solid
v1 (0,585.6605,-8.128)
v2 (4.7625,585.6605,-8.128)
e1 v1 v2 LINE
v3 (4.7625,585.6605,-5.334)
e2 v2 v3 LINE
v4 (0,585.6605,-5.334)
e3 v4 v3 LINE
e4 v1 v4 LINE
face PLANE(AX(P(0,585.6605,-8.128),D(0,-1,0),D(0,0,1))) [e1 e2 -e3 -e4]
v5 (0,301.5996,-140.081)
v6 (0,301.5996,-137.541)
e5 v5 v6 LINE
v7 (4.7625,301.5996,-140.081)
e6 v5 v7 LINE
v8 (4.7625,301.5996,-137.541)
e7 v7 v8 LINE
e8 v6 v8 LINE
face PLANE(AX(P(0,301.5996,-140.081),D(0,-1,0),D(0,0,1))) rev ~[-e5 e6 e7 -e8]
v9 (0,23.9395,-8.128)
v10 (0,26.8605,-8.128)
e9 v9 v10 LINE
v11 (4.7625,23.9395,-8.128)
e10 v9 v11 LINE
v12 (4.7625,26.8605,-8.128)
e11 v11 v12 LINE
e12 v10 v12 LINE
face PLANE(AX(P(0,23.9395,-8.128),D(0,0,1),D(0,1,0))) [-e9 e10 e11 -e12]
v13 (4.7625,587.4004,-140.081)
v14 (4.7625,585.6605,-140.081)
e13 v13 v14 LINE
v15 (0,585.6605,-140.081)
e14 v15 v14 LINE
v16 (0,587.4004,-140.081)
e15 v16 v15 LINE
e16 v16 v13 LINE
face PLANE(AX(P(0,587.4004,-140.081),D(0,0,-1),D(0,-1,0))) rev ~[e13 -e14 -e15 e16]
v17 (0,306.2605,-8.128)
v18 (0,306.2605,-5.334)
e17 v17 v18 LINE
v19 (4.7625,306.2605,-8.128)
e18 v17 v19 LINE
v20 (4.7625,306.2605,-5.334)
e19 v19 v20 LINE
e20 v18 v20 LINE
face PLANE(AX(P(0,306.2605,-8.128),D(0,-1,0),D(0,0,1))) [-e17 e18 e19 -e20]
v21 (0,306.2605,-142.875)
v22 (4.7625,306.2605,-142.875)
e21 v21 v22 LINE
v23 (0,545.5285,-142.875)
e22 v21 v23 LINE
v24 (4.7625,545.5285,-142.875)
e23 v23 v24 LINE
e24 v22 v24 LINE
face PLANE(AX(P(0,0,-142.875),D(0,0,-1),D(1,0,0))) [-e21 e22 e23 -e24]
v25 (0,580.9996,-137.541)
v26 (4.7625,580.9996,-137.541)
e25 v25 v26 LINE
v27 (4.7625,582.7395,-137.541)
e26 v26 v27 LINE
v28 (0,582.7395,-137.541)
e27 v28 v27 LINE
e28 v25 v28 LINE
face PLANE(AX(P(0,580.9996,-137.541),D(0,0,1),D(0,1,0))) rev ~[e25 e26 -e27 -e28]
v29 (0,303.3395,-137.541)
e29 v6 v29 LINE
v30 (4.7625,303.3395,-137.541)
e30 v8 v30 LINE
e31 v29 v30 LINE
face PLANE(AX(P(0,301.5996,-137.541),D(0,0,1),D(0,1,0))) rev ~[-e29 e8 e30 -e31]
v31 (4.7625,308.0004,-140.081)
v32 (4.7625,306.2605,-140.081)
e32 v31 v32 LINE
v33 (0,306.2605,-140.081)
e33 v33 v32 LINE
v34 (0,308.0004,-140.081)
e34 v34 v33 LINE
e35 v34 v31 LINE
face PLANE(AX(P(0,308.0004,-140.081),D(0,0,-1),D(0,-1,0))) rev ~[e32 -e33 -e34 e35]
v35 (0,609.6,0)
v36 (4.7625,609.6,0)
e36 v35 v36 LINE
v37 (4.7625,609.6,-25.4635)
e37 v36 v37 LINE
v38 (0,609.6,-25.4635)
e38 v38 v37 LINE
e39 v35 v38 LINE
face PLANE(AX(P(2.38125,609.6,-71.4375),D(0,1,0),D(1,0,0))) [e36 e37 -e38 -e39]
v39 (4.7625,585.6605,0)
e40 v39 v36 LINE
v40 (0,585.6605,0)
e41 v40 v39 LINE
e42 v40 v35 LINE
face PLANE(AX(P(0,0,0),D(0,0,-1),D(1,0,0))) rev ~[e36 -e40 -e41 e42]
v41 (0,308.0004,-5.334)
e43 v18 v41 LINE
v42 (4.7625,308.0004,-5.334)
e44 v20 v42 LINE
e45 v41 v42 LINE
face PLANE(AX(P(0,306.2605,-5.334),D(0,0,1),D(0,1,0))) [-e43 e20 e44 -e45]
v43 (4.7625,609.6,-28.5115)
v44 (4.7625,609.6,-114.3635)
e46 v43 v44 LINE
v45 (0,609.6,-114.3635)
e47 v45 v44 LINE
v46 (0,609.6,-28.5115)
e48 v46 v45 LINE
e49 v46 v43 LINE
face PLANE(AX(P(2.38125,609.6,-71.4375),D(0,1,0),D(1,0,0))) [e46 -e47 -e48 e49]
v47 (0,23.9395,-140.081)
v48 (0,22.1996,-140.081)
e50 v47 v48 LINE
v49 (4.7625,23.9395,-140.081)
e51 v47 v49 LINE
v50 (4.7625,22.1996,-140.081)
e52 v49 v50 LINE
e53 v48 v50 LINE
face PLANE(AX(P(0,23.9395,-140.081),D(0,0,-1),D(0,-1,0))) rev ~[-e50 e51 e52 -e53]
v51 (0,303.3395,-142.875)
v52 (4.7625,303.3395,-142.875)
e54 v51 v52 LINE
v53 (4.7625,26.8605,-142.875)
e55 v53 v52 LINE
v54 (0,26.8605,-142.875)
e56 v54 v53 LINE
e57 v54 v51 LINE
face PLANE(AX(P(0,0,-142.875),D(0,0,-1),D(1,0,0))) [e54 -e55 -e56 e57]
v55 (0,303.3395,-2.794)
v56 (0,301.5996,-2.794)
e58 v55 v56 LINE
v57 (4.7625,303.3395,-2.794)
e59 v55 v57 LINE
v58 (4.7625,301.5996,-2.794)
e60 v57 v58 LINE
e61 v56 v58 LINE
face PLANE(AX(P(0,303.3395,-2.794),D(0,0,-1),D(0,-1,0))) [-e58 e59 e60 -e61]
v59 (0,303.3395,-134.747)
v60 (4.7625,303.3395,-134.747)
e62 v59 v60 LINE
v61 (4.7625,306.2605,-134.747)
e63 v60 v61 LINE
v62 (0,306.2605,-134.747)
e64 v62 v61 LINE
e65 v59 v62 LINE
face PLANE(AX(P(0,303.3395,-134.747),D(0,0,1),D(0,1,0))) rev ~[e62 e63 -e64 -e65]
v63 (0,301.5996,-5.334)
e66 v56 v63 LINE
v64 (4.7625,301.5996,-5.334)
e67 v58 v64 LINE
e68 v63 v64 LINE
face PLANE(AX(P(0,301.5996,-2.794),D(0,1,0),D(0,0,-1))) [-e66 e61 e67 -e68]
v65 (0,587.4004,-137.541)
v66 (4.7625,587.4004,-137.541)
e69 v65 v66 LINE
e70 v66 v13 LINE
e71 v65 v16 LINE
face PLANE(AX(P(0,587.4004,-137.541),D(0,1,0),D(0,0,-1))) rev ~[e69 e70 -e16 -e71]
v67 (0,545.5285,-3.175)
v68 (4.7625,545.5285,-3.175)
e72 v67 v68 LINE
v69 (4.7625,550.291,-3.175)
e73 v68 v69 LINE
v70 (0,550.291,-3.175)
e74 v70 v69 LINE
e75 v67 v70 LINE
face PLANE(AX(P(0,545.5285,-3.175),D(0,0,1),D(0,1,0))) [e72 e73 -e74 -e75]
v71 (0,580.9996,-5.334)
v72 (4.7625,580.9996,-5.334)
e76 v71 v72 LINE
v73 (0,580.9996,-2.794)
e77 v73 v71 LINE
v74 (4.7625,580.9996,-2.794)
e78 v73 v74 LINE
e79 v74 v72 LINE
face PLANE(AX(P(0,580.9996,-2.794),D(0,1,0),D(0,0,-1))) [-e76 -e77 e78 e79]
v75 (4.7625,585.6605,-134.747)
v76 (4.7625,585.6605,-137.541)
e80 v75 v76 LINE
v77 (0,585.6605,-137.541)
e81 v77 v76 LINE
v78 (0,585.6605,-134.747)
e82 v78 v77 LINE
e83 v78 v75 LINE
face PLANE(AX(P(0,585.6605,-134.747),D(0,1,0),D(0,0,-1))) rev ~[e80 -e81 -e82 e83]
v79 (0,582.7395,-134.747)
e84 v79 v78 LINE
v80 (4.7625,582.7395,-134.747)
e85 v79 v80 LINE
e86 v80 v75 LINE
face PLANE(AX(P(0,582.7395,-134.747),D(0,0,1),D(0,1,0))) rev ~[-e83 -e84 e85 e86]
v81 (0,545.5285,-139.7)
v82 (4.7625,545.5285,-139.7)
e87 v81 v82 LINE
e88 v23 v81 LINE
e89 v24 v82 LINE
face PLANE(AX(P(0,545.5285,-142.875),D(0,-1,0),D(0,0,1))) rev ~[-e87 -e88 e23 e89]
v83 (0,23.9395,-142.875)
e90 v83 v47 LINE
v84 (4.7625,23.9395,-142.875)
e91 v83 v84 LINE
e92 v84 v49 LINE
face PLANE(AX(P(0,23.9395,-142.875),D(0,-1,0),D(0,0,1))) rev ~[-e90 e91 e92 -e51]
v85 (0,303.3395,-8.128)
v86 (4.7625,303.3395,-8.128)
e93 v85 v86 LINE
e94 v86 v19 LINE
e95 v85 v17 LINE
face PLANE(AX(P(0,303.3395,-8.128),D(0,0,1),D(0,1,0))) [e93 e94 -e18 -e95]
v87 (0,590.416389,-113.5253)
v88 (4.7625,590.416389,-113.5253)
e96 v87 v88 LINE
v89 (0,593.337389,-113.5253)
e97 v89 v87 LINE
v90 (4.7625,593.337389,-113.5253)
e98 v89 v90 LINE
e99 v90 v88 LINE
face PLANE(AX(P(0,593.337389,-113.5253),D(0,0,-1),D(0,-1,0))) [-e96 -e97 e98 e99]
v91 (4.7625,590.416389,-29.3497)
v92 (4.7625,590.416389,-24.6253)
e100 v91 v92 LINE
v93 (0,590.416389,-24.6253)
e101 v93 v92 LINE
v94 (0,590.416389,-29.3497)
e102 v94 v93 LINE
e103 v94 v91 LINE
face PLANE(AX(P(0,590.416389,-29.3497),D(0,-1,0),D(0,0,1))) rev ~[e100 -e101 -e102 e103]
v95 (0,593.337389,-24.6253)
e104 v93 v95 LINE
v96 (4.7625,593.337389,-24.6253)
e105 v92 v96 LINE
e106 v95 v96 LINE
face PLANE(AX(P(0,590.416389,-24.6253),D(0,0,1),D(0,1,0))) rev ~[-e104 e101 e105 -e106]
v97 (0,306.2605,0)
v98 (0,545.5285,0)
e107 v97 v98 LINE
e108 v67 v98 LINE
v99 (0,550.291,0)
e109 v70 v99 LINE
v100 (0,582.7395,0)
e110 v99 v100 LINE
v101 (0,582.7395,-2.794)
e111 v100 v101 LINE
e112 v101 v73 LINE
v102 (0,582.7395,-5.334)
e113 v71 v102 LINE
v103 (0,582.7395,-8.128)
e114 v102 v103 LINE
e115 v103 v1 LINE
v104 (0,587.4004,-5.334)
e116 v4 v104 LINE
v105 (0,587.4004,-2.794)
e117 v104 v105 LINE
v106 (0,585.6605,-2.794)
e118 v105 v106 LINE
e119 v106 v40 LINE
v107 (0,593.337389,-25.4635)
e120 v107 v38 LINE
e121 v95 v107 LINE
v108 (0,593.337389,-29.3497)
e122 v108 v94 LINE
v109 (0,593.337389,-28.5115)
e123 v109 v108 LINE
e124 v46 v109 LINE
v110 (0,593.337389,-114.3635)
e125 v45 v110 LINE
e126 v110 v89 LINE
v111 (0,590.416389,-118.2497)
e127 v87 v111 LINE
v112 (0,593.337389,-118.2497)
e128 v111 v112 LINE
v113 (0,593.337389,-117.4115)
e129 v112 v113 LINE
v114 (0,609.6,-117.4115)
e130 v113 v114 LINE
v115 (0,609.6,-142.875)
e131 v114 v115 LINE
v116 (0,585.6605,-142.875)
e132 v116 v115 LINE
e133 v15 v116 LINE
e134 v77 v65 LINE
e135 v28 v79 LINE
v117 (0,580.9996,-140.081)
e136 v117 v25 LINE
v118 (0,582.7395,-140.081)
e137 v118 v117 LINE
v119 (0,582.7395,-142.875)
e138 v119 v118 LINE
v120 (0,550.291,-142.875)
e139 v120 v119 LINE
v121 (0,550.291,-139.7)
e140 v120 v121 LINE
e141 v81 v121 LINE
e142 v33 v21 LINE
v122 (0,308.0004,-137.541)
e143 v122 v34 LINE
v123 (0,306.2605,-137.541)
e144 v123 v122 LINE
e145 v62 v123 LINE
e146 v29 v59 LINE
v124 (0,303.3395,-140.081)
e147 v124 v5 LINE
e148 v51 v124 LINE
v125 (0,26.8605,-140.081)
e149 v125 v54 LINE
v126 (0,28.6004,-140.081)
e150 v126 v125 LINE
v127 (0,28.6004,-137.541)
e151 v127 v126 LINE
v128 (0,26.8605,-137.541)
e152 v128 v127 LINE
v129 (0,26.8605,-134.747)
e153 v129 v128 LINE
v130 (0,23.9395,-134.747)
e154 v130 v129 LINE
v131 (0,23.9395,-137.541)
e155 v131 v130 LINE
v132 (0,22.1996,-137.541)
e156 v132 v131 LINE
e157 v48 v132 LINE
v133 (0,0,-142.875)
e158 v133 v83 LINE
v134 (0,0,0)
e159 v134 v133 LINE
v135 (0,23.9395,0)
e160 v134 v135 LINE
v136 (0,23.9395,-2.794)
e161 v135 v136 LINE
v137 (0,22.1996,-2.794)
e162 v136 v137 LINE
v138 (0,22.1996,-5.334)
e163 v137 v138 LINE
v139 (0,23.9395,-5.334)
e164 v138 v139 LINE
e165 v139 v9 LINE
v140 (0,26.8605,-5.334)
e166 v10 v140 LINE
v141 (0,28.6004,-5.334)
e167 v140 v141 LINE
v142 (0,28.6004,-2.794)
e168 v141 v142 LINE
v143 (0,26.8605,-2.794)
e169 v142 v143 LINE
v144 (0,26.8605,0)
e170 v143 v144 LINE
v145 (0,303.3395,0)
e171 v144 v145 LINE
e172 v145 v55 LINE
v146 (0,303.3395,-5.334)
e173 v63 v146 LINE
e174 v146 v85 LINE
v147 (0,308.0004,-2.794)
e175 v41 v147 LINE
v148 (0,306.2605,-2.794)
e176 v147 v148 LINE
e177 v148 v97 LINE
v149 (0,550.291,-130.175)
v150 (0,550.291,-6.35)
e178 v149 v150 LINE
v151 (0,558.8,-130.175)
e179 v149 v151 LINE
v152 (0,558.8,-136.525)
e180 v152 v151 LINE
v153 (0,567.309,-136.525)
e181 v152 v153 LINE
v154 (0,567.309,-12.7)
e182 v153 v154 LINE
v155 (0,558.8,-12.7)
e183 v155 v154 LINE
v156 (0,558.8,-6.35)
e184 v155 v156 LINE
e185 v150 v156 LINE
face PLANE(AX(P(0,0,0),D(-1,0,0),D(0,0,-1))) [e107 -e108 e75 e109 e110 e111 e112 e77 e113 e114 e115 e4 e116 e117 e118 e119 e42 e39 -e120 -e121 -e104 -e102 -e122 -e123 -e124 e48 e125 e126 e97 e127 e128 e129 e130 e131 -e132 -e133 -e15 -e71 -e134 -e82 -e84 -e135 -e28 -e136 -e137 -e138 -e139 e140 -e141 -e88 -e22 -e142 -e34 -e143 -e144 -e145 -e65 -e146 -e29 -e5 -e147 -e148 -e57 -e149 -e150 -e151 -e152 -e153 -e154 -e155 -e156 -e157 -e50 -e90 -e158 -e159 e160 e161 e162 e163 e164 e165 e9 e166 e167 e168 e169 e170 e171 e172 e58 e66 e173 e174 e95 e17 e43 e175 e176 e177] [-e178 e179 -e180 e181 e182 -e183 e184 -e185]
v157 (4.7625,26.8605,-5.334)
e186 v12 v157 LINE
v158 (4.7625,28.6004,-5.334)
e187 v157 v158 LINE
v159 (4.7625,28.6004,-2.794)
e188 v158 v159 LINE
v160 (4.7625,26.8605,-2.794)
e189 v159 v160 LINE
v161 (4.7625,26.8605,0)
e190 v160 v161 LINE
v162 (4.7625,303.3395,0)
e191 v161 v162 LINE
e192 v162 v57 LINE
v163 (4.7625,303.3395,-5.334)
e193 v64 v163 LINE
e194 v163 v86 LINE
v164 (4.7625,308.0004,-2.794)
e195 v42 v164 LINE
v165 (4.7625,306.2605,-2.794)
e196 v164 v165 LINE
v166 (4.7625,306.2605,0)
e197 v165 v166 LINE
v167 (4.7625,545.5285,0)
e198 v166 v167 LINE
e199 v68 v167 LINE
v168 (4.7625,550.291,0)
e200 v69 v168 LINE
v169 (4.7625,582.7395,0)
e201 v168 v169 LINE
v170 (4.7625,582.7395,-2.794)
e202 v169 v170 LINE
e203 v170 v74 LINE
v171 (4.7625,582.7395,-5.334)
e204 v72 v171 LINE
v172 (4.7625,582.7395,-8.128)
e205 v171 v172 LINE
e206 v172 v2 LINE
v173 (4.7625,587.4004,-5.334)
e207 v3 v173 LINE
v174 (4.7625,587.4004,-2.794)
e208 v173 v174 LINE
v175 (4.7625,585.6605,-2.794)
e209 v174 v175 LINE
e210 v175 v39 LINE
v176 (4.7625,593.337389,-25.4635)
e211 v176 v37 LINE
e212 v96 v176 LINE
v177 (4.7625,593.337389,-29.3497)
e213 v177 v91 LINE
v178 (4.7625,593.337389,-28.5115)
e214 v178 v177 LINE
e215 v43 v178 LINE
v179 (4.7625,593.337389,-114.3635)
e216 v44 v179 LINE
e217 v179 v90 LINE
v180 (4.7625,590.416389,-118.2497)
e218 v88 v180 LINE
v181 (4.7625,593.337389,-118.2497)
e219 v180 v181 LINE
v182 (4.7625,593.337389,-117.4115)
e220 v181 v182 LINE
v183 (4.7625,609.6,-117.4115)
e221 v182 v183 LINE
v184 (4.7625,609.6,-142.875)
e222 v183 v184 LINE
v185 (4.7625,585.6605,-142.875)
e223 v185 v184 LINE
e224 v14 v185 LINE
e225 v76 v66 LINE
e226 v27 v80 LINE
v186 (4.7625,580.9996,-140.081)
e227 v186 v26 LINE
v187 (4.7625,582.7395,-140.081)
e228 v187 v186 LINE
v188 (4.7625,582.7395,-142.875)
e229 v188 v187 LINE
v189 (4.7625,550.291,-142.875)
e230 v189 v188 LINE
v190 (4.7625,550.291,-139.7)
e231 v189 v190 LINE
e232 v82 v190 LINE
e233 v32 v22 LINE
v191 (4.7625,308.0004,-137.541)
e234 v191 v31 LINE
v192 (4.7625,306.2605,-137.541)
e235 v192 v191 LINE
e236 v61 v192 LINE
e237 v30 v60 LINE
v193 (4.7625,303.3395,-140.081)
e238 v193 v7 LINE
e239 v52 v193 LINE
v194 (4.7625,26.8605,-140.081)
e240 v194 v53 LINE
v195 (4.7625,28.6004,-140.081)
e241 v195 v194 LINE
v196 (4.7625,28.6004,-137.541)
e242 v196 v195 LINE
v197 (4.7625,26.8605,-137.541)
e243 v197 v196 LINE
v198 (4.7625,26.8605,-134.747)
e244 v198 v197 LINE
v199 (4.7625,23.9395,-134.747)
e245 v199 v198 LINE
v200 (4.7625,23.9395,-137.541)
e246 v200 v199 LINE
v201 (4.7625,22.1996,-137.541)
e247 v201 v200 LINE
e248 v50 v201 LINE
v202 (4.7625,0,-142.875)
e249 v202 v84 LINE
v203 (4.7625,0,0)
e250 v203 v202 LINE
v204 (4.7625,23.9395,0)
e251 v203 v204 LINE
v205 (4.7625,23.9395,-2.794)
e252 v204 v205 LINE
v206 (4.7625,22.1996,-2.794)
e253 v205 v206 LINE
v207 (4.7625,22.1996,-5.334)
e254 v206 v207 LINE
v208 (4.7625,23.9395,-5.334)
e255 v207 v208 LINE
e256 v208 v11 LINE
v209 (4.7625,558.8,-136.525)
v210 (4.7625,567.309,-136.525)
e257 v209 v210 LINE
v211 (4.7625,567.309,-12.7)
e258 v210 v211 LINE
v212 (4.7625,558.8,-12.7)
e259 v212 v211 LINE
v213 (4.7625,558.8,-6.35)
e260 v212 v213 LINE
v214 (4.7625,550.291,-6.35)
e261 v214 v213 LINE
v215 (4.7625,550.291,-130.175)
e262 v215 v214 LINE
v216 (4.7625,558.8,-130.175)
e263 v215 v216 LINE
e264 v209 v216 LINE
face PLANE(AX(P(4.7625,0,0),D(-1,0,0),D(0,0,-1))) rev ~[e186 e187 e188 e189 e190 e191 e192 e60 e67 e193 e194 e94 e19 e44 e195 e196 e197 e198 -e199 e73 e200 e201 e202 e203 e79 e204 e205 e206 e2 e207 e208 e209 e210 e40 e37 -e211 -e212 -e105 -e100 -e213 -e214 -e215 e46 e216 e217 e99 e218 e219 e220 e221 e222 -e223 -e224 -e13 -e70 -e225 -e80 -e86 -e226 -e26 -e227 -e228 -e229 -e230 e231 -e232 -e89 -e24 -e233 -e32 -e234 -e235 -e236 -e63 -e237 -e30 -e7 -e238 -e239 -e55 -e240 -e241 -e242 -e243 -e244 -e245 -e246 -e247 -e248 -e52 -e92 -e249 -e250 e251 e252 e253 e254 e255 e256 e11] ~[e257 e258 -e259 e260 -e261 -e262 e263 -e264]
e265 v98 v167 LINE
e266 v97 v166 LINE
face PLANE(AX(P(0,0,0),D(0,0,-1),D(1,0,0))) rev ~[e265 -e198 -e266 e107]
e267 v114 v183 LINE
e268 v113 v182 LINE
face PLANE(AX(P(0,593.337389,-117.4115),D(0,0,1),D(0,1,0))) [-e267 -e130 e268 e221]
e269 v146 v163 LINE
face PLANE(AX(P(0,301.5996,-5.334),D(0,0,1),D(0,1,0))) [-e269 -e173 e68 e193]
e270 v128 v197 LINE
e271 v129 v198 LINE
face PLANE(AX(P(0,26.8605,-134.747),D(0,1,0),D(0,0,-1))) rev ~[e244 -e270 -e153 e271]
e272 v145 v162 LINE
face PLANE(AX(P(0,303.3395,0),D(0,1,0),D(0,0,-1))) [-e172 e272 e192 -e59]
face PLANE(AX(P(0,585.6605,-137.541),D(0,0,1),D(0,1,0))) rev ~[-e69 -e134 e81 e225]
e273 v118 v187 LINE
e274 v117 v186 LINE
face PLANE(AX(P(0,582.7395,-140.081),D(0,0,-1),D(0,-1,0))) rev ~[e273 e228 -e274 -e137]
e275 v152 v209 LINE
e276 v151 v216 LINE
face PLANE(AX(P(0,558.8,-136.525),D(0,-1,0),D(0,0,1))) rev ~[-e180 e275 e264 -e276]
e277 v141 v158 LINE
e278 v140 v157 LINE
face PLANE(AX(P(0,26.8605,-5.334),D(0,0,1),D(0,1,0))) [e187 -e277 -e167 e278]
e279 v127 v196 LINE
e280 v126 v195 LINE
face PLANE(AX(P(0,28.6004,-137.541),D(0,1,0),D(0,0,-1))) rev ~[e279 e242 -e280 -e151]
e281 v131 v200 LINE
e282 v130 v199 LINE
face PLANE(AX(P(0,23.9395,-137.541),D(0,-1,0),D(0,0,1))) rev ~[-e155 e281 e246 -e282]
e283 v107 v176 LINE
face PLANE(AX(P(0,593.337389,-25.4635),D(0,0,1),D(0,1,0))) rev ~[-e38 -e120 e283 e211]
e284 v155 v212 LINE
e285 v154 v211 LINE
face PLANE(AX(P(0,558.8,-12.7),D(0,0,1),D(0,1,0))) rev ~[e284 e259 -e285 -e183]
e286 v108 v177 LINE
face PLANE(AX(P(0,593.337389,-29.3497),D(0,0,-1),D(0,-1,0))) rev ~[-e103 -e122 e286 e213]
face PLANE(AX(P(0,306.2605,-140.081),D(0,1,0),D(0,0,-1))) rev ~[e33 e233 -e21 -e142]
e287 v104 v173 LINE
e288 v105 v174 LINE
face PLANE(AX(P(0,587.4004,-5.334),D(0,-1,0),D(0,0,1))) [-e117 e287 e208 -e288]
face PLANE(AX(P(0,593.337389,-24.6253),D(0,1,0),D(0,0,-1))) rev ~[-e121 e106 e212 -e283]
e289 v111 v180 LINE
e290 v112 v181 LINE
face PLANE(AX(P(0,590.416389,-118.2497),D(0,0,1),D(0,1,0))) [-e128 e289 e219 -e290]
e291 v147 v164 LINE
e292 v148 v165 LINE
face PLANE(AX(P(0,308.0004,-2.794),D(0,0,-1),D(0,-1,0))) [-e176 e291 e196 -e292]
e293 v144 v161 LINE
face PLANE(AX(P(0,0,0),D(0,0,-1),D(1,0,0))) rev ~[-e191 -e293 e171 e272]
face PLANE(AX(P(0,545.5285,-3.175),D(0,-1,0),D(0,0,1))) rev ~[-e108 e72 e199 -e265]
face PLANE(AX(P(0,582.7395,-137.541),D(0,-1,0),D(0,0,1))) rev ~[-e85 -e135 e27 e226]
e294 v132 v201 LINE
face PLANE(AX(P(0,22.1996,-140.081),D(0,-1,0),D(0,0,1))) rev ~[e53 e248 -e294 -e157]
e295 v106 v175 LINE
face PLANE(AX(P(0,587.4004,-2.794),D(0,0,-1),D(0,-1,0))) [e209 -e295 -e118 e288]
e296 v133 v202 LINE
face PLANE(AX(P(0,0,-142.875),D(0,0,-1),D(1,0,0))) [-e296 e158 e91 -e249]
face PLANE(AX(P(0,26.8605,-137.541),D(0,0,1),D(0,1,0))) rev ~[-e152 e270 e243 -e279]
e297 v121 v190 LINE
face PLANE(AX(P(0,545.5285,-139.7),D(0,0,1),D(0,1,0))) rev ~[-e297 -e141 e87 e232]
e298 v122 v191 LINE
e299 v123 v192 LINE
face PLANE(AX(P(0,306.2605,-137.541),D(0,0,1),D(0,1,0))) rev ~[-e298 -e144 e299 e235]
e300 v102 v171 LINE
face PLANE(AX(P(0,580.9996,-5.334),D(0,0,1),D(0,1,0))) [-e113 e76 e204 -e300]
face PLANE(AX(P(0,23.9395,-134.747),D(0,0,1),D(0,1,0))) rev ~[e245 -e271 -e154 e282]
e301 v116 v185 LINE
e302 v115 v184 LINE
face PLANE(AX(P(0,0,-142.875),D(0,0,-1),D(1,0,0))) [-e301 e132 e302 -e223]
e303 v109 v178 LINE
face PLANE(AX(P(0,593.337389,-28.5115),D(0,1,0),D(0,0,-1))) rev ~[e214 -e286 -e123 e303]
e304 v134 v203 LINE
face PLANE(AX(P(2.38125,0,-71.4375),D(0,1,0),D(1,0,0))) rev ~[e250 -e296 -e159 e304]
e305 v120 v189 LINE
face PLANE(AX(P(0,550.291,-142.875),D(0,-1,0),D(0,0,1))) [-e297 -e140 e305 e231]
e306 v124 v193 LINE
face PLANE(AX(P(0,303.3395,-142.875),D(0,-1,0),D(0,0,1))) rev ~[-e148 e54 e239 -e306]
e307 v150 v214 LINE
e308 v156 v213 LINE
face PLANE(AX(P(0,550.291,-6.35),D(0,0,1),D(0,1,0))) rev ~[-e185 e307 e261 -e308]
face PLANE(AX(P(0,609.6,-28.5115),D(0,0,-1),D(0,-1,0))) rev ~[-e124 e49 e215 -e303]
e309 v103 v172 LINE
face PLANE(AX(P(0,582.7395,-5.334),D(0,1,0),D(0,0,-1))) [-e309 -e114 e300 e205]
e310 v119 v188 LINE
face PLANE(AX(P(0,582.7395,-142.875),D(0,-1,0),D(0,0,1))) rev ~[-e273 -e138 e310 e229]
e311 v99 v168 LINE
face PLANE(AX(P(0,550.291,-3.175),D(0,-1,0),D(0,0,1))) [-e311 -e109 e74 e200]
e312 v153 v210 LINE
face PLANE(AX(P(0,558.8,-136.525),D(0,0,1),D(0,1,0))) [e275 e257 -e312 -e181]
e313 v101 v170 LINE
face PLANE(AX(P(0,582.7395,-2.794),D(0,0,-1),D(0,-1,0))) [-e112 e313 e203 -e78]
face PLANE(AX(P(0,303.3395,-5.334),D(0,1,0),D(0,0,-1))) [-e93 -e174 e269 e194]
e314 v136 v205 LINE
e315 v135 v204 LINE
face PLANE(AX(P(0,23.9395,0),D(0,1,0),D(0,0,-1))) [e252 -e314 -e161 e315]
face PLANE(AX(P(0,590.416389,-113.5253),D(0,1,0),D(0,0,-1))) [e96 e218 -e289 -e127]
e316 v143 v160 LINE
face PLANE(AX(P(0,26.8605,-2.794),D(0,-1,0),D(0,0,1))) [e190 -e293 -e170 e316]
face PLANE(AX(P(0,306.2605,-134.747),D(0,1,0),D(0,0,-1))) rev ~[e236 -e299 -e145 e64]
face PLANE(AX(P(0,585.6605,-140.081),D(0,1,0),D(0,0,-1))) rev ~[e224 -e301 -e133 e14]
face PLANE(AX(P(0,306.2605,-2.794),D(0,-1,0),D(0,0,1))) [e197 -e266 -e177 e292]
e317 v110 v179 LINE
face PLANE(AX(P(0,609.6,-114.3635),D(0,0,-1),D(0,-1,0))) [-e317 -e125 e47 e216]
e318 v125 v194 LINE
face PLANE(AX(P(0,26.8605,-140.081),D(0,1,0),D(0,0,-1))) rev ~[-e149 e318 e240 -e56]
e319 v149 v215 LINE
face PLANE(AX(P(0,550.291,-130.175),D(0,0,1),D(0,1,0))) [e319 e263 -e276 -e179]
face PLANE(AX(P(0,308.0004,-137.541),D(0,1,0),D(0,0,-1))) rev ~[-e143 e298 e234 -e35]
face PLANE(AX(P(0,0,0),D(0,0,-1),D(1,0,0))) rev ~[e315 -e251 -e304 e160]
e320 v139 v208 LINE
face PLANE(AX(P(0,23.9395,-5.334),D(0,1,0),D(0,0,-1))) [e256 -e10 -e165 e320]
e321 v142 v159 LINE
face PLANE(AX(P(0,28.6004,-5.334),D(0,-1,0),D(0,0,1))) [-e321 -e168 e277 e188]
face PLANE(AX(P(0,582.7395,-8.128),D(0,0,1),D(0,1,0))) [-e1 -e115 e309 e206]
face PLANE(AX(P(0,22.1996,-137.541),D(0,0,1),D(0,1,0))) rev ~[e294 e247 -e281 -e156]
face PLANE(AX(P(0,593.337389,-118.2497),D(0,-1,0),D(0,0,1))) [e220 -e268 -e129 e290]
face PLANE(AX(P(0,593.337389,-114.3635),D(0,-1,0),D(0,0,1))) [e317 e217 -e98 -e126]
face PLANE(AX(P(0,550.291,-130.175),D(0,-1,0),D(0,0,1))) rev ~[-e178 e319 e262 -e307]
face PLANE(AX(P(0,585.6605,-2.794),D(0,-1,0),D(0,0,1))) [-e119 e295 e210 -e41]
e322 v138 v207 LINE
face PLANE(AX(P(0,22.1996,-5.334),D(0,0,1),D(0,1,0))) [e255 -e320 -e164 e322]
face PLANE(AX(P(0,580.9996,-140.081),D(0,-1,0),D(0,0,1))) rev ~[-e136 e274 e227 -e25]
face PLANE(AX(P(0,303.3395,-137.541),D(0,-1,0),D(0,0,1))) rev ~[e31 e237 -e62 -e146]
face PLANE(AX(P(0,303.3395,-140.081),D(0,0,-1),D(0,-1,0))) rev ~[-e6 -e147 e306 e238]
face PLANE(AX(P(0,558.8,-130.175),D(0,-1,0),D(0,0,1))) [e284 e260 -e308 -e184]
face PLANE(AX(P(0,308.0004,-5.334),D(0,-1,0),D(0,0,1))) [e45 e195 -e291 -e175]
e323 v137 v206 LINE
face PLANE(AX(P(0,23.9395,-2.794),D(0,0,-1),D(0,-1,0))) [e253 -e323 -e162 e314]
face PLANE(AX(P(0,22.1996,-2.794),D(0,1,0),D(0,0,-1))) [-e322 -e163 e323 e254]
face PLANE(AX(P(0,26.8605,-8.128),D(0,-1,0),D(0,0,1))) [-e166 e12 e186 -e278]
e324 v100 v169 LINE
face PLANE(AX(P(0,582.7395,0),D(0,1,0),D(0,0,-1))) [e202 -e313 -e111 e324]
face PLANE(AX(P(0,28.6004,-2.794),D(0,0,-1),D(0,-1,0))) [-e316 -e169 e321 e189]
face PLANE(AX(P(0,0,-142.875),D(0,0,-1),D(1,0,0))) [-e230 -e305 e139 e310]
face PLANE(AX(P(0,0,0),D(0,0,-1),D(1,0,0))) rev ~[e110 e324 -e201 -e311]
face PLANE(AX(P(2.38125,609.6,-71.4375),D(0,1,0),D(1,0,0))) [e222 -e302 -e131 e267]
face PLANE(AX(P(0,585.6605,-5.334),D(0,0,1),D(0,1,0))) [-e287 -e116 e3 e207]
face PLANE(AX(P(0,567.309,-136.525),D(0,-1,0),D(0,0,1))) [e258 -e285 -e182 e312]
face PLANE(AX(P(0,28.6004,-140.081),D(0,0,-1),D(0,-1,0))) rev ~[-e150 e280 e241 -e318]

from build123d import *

# Parameters (mm, degrees)
SKETCH1_W           = 4.7625
SKETCH1_H           = 142.875
BOSS_EXTRUDE1_DEPTH = 609.6
SKETCH12_W          = 123.825
SKETCH12_H          = 8.509
CUT_EXTRUDE7_DEPTH  = 627.13745059
SKETCH13_W          = 123.825
SKETCH13_H          = 8.509
CUT_EXTRUDE8_DEPTH  = 627.13745059
SKETCH15_W          = 3.175
SKETCH15_H          = 4.7625
CUT_EXTRUDE10_DEPTH = 627.13745059
CUT_EXTRUDE11_DEPTH = 627.13745059
CUT_EXTRUDE12_DEPTH = 627.13745059


with BuildPart() as part:
    # Sketch1 → Boss-Extrude1 (new body)
    with BuildSketch(Plane(origin=(0, 0, 0), x_dir=(1, 0, 0), z_dir=(0, 1, 0))):
        with Locations((2.38125, 71.4375)):
            Rectangle(SKETCH1_W, SKETCH1_H)
    extrude(amount=BOSS_EXTRUDE1_DEPTH)

    # Sketch12 → Cut-Extrude7 (cut, through all)
    with BuildSketch(Plane.ZY):
        with Locations((-68.2625, 554.5455)):
            Rectangle(SKETCH12_W, SKETCH12_H)
    extrude(amount=-CUT_EXTRUDE7_DEPTH, mode=Mode.SUBTRACT)

    # Sketch13 → Cut-Extrude8 (cut, through all)
    with BuildSketch(Plane.ZY):
        with Locations((-74.6125, 563.0545)):
            Rectangle(SKETCH13_W, SKETCH13_H)
    extrude(amount=-CUT_EXTRUDE8_DEPTH, mode=Mode.SUBTRACT)

    # Sketch15 → Cut-Extrude10 (cut, through all)
    with BuildSketch(Plane.ZY):
        with Locations((-1.5875, 547.90975)):
            Rectangle(SKETCH15_W, SKETCH15_H)
        with Locations((-141.2875, 547.90975)):
            Rectangle(SKETCH15_W, SKETCH15_H)
    extrude(amount=-CUT_EXTRUDE10_DEPTH, mode=Mode.SUBTRACT)

    # Sketch16 → Cut-Extrude11 (cut, through all)
    with BuildSketch(Plane.ZY):
        Polygon((-2.794, 23.9395), (-2.794, 22.1996), (-5.334, 22.1996), (-5.334, 23.9395), (-8.128, 23.9395), (-8.128, 26.8605), (-5.334, 26.8605), (-5.334, 28.6004), (-2.794, 28.6004), (-2.794, 26.8605), (0, 26.8605), (0, 23.9395), align=None)
        Polygon((-134.747, 26.8605), (-137.541, 26.8605), (-137.541, 28.6004), (-140.081, 28.6004), (-140.081, 26.8605), (-142.875, 26.8605), (-142.875, 23.9395), (-140.081, 23.9395), (-140.081, 22.1996), (-137.541, 22.1996), (-137.541, 23.9395), (-134.747, 23.9395), align=None)
        Polygon((-134.747, 306.2605), (-137.541, 306.2605), (-137.541, 308.0004), (-140.081, 308.0004), (-140.081, 306.2605), (-142.875, 306.2605), (-142.875, 303.3395), (-140.081, 303.3395), (-140.081, 301.5996), (-137.541, 301.5996), (-137.541, 303.3395), (-134.747, 303.3395), align=None)
        Polygon((-2.794, 303.3395), (-2.794, 301.5996), (-5.334, 301.5996), (-5.334, 303.3395), (-8.128, 303.3395), (-8.128, 306.2605), (-5.334, 306.2605), (-5.334, 308.0004), (-2.794, 308.0004), (-2.794, 306.2605), (0, 306.2605), (0, 303.3395), align=None)
        Polygon((-134.747, 585.6605), (-137.541, 585.6605), (-137.541, 587.4004), (-140.081, 587.4004), (-140.081, 585.6605), (-142.875, 585.6605), (-142.875, 582.7395), (-140.081, 582.7395), (-140.081, 580.9996), (-137.541, 580.9996), (-137.541, 582.7395), (-134.747, 582.7395), align=None)
        Polygon((-2.794, 582.7395), (-2.794, 580.9996), (-5.334, 580.9996), (-5.334, 582.7395), (-8.128, 582.7395), (-8.128, 585.6605), (-5.334, 585.6605), (-5.334, 587.4004), (-2.794, 587.4004), (-2.794, 585.6605), (0, 585.6605), (0, 582.7395), align=None)
    extrude(amount=-CUT_EXTRUDE11_DEPTH, mode=Mode.SUBTRACT)

    # Sketch17 → Cut-Extrude12 (cut, through all)
    with BuildSketch(Plane.ZY):
        Polygon((-28.5115, 593.337388892), (-29.3497, 593.337388892), (-29.3497, 590.416388892), (-24.6253, 590.416388892), (-24.6253, 593.337388892), (-25.4635, 593.337388892), (-25.4635, 609.6), (-28.5115, 609.6), align=None)
        Polygon((-117.4115, 609.6), (-114.3635, 609.6), (-114.3635, 593.337388892), (-113.5253, 593.337388892), (-113.5253, 590.416388892), (-118.2497, 590.416388892), (-118.2497, 593.337388892), (-117.4115, 593.337388892), align=None)
    extrude(amount=-CUT_EXTRUDE12_DEPTH, mode=Mode.SUBTRACT)


solid = part.part
